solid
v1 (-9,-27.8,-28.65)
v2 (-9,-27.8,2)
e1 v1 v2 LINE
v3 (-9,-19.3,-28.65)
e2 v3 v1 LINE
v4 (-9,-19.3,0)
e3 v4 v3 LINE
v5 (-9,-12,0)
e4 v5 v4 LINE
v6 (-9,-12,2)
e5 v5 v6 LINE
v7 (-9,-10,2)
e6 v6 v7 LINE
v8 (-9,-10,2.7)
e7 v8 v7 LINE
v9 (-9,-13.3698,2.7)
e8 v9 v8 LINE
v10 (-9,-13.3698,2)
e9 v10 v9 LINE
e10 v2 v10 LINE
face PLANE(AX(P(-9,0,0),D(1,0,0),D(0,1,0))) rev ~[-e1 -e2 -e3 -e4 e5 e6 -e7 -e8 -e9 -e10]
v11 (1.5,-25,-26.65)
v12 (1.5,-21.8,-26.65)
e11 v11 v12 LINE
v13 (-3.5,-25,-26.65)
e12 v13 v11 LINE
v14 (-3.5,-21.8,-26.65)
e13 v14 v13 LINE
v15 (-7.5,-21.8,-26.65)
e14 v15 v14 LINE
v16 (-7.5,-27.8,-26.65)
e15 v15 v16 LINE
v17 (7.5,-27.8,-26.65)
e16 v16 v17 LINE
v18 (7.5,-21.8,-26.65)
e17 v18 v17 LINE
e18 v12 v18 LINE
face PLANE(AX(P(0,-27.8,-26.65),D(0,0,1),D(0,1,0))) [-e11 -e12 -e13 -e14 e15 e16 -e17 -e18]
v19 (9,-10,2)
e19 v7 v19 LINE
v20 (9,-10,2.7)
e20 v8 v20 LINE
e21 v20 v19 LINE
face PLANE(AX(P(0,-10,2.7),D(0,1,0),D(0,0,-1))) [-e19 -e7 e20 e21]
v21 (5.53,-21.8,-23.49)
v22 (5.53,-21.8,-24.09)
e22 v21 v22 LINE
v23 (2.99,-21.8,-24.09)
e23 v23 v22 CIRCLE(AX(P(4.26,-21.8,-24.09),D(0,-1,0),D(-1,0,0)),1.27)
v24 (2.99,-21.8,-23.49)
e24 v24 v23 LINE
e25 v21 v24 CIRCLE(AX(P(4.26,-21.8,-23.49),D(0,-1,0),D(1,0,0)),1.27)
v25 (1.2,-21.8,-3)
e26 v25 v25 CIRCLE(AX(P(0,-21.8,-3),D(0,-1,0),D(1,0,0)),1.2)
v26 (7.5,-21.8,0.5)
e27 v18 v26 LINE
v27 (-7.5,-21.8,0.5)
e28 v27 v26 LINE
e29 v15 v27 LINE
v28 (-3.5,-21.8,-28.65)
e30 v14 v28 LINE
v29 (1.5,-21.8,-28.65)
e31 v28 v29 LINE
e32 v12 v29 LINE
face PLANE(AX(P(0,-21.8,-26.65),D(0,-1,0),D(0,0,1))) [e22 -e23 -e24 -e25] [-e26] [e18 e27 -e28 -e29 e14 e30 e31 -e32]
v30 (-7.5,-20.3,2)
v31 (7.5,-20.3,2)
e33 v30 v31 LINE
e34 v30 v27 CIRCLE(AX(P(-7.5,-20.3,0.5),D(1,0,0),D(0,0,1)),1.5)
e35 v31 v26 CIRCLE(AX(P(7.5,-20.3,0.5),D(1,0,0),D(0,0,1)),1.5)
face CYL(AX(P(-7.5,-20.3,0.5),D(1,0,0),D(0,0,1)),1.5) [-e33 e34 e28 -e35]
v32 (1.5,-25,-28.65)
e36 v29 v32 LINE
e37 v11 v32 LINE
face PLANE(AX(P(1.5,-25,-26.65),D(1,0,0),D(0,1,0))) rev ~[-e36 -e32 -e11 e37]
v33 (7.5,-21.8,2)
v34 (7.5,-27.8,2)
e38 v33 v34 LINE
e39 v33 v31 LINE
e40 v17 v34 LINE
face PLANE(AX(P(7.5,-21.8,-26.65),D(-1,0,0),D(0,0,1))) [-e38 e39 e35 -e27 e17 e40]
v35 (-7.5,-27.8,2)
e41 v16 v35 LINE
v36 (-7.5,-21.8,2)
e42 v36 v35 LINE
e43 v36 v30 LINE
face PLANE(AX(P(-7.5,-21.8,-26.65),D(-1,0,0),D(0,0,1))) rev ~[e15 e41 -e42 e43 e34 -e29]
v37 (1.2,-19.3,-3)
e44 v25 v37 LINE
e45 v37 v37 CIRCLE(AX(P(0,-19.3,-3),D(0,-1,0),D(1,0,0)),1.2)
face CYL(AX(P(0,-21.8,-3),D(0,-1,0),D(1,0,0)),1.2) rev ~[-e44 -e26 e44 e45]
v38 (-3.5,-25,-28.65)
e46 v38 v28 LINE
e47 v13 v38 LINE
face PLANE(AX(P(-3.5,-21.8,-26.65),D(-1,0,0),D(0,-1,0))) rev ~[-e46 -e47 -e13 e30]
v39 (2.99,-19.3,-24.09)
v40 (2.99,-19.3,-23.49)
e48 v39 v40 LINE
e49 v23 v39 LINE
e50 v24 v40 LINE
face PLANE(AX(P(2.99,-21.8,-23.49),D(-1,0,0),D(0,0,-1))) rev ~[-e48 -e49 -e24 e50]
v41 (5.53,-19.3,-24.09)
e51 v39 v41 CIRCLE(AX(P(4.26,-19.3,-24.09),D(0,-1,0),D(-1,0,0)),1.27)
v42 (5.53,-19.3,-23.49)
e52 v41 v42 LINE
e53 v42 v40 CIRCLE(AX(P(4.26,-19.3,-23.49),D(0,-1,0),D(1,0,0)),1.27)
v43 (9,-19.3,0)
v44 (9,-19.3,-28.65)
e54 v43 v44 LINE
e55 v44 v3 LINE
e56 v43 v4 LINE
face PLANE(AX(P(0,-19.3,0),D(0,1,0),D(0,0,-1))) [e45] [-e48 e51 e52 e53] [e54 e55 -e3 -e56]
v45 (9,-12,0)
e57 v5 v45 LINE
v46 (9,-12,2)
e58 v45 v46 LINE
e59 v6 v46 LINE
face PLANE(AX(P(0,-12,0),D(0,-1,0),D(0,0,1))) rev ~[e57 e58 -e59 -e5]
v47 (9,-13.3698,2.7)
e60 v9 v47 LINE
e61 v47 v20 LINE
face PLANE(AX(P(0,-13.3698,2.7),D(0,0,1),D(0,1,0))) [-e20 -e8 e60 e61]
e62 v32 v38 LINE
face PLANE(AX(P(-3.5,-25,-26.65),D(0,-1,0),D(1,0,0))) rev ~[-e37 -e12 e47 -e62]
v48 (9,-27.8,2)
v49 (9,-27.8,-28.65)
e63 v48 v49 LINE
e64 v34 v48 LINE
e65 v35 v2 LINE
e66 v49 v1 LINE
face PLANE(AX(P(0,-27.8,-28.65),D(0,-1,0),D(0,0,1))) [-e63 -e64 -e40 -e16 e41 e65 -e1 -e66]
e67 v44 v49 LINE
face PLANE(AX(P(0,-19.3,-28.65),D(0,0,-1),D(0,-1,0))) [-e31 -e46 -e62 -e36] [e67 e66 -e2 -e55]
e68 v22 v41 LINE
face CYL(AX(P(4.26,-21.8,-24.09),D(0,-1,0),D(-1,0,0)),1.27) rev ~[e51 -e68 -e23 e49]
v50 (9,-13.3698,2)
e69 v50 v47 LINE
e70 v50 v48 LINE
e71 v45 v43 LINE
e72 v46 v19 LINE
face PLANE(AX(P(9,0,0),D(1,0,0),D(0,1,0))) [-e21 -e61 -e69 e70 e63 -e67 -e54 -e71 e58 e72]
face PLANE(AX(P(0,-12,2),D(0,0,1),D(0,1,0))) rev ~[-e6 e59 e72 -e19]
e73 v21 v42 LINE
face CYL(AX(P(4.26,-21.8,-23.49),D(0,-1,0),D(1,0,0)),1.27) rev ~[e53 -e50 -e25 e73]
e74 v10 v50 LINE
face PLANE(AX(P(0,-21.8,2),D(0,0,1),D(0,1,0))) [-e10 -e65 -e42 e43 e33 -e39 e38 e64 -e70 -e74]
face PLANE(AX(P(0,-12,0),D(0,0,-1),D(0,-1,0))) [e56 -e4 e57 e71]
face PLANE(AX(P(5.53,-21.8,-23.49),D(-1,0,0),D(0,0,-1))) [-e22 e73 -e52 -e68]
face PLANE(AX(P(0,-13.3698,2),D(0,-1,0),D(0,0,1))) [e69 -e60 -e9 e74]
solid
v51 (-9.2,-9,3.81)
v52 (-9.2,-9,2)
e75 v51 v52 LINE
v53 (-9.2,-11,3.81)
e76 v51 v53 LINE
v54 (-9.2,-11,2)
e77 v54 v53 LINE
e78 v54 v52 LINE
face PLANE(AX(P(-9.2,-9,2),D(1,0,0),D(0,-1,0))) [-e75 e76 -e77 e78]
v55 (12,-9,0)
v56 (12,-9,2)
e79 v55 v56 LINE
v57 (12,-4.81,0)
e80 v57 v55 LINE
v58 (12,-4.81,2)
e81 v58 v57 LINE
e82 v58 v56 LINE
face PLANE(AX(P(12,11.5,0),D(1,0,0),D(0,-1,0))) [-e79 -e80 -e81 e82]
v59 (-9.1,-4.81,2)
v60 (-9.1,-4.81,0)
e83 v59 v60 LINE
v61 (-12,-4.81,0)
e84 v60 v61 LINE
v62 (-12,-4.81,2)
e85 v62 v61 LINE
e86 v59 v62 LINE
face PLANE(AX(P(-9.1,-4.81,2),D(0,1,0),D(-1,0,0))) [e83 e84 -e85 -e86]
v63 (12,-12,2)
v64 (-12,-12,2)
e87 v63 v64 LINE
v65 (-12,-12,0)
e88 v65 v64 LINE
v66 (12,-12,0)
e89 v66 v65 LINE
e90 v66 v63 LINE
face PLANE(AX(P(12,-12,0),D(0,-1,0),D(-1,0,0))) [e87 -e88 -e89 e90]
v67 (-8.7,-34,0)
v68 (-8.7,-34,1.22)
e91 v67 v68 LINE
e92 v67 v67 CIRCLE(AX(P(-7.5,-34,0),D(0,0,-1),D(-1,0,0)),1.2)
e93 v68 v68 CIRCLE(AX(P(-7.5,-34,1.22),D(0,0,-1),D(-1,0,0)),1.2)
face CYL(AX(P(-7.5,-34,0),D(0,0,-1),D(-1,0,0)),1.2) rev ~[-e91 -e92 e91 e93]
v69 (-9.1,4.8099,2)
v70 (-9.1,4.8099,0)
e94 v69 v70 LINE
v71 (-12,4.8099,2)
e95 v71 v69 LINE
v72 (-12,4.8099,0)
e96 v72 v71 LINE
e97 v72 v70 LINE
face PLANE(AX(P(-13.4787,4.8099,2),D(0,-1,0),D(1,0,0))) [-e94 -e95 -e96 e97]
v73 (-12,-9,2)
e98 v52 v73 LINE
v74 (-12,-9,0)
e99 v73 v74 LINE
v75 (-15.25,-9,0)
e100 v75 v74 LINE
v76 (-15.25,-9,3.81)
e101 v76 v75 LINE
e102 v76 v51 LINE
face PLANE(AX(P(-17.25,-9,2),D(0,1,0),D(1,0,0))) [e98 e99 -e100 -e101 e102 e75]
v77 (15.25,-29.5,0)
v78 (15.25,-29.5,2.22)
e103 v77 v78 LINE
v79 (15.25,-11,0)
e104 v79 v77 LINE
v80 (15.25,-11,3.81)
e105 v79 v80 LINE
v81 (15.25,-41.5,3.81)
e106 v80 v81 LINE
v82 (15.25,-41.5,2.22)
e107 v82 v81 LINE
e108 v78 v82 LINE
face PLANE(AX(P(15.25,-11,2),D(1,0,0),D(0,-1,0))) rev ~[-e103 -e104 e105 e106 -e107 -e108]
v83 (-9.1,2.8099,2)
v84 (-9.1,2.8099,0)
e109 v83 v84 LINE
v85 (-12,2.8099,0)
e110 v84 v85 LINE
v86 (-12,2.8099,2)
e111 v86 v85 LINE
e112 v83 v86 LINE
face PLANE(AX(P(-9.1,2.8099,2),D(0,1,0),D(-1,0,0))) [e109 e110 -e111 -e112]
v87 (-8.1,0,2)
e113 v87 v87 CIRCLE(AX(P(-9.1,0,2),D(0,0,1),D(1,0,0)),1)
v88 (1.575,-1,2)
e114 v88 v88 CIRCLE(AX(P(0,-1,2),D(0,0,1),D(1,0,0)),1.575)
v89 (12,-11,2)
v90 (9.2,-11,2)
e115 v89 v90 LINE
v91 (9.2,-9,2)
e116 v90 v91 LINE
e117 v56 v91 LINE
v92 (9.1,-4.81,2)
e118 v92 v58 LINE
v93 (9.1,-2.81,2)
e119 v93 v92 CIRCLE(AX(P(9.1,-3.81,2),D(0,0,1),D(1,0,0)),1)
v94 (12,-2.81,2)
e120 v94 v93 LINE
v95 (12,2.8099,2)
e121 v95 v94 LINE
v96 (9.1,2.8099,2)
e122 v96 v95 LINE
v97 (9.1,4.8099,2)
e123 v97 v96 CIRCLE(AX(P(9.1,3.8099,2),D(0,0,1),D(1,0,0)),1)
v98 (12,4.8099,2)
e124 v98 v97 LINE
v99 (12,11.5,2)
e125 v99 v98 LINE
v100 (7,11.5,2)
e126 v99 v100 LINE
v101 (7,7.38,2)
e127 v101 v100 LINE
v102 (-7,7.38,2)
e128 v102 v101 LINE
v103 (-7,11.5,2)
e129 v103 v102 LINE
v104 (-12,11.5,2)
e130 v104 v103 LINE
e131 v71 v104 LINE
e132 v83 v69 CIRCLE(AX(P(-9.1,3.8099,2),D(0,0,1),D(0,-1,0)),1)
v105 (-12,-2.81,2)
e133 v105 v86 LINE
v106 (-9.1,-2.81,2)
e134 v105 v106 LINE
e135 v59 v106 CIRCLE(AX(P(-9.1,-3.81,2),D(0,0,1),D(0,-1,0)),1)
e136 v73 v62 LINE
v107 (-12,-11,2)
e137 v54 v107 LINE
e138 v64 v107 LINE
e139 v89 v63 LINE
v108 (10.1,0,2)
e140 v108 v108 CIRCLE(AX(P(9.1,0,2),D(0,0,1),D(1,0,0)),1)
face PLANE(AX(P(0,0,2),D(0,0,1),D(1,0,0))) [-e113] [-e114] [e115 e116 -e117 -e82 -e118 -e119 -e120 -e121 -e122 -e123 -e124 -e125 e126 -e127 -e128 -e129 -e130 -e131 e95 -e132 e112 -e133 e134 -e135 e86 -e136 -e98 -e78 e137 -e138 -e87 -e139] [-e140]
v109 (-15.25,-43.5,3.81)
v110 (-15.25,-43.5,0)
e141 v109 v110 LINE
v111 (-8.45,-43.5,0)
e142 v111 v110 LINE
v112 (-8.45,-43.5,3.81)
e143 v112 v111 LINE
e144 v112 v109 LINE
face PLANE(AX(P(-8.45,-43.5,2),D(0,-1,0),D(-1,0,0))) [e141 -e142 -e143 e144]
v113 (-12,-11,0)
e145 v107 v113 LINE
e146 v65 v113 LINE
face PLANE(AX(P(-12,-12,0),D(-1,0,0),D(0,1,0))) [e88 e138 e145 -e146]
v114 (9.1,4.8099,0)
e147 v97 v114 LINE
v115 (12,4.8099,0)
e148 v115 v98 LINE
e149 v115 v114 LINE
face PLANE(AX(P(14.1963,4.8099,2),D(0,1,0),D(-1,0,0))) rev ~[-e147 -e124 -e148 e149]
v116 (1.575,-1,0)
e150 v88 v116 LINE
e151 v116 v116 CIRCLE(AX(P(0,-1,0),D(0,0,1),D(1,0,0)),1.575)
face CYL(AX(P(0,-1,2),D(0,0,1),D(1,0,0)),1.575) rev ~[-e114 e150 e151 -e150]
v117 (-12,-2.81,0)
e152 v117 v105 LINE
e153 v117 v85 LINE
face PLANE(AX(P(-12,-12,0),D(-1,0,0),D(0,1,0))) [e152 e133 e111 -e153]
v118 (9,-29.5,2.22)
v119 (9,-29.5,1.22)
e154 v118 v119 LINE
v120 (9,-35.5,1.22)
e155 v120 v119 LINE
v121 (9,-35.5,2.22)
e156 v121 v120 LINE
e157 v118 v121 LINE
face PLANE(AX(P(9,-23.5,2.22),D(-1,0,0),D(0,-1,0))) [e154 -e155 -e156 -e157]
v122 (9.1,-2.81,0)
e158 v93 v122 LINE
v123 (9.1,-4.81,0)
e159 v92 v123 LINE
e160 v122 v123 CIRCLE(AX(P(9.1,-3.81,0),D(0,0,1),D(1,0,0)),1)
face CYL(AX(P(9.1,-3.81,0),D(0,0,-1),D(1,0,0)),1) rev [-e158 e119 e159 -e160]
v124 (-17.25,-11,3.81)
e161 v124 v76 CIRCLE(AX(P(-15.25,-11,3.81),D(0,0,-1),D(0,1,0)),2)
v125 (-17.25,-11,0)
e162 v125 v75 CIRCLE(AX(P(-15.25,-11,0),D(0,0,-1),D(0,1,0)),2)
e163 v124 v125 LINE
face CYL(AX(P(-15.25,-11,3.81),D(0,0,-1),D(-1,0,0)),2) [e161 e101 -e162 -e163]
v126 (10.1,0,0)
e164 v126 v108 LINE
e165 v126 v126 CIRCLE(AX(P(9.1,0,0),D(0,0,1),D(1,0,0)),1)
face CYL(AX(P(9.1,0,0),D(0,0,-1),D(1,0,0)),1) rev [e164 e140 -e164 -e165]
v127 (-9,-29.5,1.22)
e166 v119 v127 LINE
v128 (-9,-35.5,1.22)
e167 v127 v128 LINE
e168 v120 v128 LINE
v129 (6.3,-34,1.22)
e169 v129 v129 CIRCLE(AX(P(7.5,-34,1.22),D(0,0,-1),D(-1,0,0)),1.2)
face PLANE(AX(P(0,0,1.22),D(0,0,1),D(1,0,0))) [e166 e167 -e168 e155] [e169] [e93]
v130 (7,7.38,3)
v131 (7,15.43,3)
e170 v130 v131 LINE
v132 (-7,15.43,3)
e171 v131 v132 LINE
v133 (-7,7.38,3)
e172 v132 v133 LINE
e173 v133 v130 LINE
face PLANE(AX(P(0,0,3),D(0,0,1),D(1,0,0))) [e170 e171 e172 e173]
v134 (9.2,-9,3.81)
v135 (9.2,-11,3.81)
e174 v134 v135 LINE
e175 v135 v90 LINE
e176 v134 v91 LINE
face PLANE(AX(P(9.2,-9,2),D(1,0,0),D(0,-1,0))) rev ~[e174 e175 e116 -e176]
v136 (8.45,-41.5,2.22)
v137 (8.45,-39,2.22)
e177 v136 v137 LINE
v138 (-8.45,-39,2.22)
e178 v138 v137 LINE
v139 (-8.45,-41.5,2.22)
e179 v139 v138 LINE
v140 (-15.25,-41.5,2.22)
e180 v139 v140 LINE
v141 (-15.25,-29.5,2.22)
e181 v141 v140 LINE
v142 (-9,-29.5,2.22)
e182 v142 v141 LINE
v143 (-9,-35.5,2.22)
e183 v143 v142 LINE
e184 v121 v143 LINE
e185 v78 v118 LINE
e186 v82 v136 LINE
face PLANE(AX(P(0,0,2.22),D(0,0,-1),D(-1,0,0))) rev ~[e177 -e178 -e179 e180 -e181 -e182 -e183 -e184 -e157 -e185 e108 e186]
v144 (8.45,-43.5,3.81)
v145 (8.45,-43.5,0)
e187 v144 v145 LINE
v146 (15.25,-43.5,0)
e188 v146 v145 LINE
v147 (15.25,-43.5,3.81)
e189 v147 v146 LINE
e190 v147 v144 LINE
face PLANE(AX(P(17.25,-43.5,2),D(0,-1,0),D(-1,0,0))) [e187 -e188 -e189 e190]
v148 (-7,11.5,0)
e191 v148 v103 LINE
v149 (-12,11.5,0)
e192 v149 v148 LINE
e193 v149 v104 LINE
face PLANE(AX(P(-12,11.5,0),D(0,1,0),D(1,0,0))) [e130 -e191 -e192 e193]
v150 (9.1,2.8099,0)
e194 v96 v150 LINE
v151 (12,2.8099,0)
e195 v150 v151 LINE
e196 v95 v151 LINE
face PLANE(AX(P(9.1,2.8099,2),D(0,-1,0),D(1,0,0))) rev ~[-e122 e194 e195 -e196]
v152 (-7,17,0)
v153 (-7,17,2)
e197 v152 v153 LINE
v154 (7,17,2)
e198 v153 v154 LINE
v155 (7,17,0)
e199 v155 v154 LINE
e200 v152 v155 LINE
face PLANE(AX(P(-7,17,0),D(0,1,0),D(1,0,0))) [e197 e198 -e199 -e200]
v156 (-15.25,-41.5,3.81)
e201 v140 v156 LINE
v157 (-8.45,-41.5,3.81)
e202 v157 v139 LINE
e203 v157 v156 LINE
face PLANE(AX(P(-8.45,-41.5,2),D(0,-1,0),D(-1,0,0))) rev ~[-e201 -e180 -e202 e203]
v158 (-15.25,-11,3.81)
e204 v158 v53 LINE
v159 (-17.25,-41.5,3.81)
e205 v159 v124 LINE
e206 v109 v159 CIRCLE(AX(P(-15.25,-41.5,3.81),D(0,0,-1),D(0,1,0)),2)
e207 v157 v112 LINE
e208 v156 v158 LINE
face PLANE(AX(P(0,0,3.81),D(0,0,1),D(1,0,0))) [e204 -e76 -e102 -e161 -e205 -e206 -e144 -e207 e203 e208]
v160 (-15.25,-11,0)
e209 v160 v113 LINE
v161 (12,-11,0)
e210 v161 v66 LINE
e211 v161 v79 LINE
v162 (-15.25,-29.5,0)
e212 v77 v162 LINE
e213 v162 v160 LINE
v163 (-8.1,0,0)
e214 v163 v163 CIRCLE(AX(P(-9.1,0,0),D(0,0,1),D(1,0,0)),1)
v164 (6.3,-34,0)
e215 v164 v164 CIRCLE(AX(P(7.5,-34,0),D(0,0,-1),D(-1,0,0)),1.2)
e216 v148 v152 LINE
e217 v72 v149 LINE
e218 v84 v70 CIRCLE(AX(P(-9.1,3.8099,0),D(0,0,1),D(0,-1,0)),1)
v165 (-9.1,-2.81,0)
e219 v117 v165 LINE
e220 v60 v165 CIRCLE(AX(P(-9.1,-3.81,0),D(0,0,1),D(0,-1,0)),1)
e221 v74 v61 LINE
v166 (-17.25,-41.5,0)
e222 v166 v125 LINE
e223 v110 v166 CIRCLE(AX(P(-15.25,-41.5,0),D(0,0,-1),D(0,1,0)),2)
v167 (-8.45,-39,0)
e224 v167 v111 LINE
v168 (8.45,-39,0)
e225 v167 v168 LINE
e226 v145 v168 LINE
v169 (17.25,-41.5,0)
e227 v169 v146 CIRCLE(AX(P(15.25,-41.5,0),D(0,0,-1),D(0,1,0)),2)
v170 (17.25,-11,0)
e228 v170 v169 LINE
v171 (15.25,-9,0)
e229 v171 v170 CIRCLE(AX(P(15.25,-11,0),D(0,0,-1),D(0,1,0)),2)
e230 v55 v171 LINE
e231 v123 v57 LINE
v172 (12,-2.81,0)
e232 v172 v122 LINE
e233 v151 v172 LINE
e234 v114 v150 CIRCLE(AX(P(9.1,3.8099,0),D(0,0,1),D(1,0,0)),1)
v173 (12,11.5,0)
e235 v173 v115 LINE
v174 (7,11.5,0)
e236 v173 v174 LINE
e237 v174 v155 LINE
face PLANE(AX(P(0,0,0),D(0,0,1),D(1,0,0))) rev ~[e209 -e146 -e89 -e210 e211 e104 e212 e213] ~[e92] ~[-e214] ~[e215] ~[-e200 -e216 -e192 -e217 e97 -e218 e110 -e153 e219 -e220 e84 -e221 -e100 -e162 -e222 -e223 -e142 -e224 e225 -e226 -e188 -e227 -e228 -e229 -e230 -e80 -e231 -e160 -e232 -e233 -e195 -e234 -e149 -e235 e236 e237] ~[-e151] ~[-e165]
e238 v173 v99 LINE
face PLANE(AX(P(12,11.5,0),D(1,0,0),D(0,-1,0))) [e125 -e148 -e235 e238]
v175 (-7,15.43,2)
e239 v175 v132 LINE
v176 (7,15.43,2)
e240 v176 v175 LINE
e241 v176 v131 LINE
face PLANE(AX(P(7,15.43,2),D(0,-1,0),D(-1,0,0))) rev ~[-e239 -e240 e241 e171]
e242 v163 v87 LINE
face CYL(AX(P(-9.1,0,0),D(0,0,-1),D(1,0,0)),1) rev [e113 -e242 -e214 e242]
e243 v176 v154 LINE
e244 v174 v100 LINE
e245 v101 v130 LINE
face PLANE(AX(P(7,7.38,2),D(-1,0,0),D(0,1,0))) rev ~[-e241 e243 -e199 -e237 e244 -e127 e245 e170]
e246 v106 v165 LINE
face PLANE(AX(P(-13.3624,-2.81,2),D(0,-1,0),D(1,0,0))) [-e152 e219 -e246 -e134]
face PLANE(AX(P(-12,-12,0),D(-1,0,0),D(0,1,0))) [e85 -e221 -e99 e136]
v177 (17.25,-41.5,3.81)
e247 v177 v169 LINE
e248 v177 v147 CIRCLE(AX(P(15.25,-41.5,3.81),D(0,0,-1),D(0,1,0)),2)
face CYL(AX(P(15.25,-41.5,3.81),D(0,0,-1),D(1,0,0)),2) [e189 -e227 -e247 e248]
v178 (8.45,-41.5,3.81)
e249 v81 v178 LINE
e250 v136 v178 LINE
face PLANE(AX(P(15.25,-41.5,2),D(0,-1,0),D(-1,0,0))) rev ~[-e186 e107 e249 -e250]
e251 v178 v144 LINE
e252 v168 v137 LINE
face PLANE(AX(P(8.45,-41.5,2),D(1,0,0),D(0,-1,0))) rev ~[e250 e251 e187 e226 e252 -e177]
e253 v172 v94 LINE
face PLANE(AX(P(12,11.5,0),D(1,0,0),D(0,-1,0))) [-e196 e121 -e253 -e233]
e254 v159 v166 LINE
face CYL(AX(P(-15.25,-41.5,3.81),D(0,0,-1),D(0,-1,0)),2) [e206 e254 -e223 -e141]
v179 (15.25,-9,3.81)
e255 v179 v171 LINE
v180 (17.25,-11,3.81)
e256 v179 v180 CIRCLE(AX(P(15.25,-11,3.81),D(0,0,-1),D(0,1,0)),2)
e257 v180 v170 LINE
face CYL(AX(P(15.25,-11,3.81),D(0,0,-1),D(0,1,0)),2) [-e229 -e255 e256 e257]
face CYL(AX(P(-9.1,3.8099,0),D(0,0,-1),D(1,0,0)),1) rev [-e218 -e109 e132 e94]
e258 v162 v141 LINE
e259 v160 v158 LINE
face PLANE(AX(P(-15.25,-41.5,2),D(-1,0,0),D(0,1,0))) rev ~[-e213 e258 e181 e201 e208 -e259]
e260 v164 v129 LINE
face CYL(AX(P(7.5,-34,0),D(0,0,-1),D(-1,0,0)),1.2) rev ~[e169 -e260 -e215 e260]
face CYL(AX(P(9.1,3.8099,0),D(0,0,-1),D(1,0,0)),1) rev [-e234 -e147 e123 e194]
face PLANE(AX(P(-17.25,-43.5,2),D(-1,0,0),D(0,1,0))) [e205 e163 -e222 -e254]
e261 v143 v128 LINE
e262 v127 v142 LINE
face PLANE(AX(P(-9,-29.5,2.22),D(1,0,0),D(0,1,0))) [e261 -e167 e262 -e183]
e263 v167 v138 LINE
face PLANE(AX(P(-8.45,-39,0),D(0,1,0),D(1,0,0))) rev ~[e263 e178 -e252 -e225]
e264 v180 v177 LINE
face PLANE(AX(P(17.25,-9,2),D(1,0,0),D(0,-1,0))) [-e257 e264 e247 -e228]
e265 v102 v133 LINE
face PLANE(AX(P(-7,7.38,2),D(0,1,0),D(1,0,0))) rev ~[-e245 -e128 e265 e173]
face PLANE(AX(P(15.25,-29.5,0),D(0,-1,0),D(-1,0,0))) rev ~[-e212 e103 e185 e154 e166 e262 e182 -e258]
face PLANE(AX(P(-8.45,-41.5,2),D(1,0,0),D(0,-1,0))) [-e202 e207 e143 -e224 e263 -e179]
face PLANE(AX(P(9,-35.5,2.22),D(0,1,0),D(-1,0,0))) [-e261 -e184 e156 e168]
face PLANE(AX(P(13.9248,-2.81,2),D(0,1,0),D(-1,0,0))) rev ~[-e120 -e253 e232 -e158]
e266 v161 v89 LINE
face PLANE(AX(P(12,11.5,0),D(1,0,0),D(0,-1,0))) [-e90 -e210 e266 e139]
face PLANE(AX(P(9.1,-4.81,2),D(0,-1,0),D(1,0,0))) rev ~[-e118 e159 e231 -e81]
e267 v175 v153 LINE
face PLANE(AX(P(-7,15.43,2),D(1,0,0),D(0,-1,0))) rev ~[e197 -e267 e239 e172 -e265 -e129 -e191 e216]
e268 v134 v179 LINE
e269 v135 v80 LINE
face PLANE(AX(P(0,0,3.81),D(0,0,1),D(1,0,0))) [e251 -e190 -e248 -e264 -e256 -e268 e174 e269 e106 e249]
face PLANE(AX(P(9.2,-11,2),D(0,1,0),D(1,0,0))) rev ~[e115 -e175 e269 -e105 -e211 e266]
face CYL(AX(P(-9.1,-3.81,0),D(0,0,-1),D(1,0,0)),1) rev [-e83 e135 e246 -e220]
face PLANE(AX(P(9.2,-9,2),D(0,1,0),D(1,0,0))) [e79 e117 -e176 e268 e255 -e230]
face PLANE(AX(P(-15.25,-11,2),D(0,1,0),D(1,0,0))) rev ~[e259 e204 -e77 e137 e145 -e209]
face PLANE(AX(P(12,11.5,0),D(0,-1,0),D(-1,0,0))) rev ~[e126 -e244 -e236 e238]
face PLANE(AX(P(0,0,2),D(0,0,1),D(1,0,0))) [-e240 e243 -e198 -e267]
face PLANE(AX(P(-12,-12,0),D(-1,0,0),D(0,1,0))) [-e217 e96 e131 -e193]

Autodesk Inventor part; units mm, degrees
ref_plane "YZ Plane" through (0, 0, 0) normal (1, 0, 0) x (0, 1, 0)
ref_plane "XZ Plane" through (0, 0, 0) normal (0, 1, 0) x (-1, 0, 0)
ref_plane "XY Plane" through (0, 0, 0) normal (0, 0, 1) x (1, 0, 0)
sketch "Sketch1" plane through (0, 0, 0) normal (0, 0, 1) x (1, 0, 0)
  circle A0 centre (0, 0) radius 2.3
  line L0 (-9.1, -9.1) -> (9.1, 9.1) construction
  line L1 (9.1, -9.1) -> (-9.1, 9.1) construction
  circle A1 centre (9.1, 0) radius 1
  circle A2 centre (-9.1, 0) radius 1
  circle A3 centre (9.1, 3.8099) radius 1
  circle A4 centre (9.1, -3.81) radius 1
  circle A5 centre (-9.1, 3.8099) radius 1
  circle A6 centre (-9.1, -3.81) radius 1
  line L2 (-7, 17) -> (7, 17)
  line L3 (12, 11.5) -> (12, -12)
  line L4 (12, -12) -> (-12, -12)
  line L5 (-12, -12) -> (-12, 11.5)
  line L6 (-4.81, 9.1) -> (-9.1, 9.1)
  line L7 (9.1, 9.1) -> (4.81, 9.1)
  line L8 (9.1, 4.8099) -> (9.1, 9.1)
  line L9 (9.1, 1) -> (9.1, 2.8099)
  line L10 (9.1, -9.1) -> (9.1, -4.81)
  line L11 (9.1, -2.81) -> (9.1, -1)
  line L12 (4.81, -9.1) -> (9.1, -9.1)
  line L13 (-9.1, -9.1) -> (-4.81, -9.1)
  line L14 (-9.1, -4.81) -> (-9.1, -9.1)
  line L15 (-9.1, -1) -> (-9.1, -2.81)
  line L16 (-9.1, 9.1) -> (-9.1, 4.8099)
  line L17 (-9.1, 2.8099) -> (-9.1, 1)
  line L18 (4.81, 9.1) -> (-4.81, 9.1)
  line L19 (-4.81, -9.1) -> (4.81, -9.1)
  line L20 (-12, 11.5) -> (-7, 11.5)
  line L21 (-7, 11.5) -> (-7, 17)
  line L22 (12, 11.5) -> (7, 11.5)
  line L23 (7, 11.5) -> (7, 17)
  dimension "d0" = 18.2
  dimension "d1" = 18.2
  dimension "d6" = 2
  dimension "d7" = 2
  dimension "d10" = 4.6
  dimension "d11" = 2
  dimension "d12" = 2
  dimension "d15" = 2
  dimension "d16" = 2
  dimension "d17" = 3.8099
  dimension "d18" = 3.81
  dimension "d19" = 24
  dimension "d127" = 2.9
  dimension "d128" = 2.9
  dimension "d129" = 29
  dimension "d140" = 5
  dimension "d141" = 5
  dimension "d142" = 5.5
extrude "Extrusion1" add sketch "Sketch1" along normal blind 2 contours A0 | A1 L11 A4 L10 L12 L19 L13 L14 A6 L15 A2 L17 A5 L16 L6 L18 L7 L8 A3 L9 | L2 L23 L22 L3 L4 L5 L20 L21
sketch "Sketch6" plane through (0, 0, 2) normal (0, 0, 1) x (1, 0, 0)
  circle A0 centre (-9.1, -3.81) radius 1 projected
  line L0 (-9.1, -4.81) -> (-13.3624, -4.81)
  line L1 (-13.3624, -4.81) -> (-13.3624, -2.81)
  line L2 (-13.3624, -2.81) -> (-9.1, -2.81)
  line L3 (-9.1, -2.81) -> (-9.1, -4.81)
  circle A1 centre (-9.1, 3.8099) radius 1 projected
  line L4 (-9.1, 2.8099) -> (-13.4787, 2.8099)
  line L5 (-13.4787, 2.8099) -> (-13.4787, 4.8099)
  line L6 (-13.4787, 4.8099) -> (-9.1, 4.8099)
  line L7 (-9.1, 4.8099) -> (-9.1, 2.8099)
  circle A2 centre (9.1, -3.81) radius 1 projected
  line L8 (9.1, -4.81) -> (13.9248, -4.81)
  line L9 (13.9248, -4.81) -> (13.9248, -2.81)
  line L10 (13.9248, -2.81) -> (9.1, -2.81)
  line L11 (9.1, -2.81) -> (9.1, -4.81)
  line L12 (9.1, 2.8099) -> (14.1963, 2.8099)
  line L13 (14.1963, 2.8099) -> (14.1963, 4.8099)
  line L14 (14.1963, 4.8099) -> (9.1, 4.8099)
  line L15 (9.1, 4.8099) -> (9.1, 2.8099)
  point P0 (0, 0)
extrude "Extrusion5" cut sketch "Sketch6" against normal blind 40 contours L3 A0 | A0 L0 L1 L2 | L7 A1 | A1 L4 L5 L6 | A2 L11 | A2 L10 L9 L8 | L15 L14 L13 L12 picked at (-9.4117, -3.6918) picked at (-9.4117, 3.9281) picked at (9.1742, -3.485)
sketch "Sketch8" plane through (0, 0, 0) normal (1, 0, 0) x (0, 1, 0)
  line L0 (-12, 0) -> (-19.3, 0)
  line L1 (-19.3, 0) -> (-19.3, -28.65)
  line L2 (-19.3, -28.65) -> (-27.8, -28.65)
  line L3 (-27.8, -28.65) -> (-27.8, -26.65)
  line L4 (-27.8, -26.65) -> (-21.8, -26.65)
  line L5 (-21.8, -26.65) -> (-21.8, 2)
  line L6 (-21.8, 2) -> (-12, 2)
  line L7 (-12, 0) -> (-12, 2) projected
  line L8 (-12, 0) -> (-12, 2)
  line L9 (-13.3698, 2) -> (-13.3698, 2.7)
  line L10 (-13.3698, 2.7) -> (-10, 2.7)
  line L11 (-10, 2.7) -> (-10, 2)
  line L12 (-12, 2) -> (-10, 2)
  point P0 (0, 0)
  dimension "d49" = 2.5
  dimension "d50" = 7.3
  dimension "d51" = 28.65
  dimension "d52" = 2
  dimension "d53" = 2
  dimension "d54" = 0.7
  dimension "d57" = 6
extrude "Extrusion7" add sketch "Sketch8" along normal mid plane 18 separate body
sketch "Sketch9" plane through (-9, -21.8, -26.65) normal (0, -1, 0) x (1, 0, 0)
  line L0 (0, 0) -> (1.5, 0)
  line L1 (1.5, 0) -> (1.5, 28.65)
  line L2 (1.5, 28.65) -> (0, 28.65)
  line L3 (0, 28.65) -> (0, 0)
  line L4 (0, 0) -> (18, 0) projected
  line L5 (18, 0) -> (16.5, 0)
  line L6 (16.5, 0) -> (16.5, 28.65)
  line L7 (16.5, 28.65) -> (18, 28.65)
  line L8 (18, 28.65) -> (18, 0)
  line L9 (8, 28.65) -> (10, 28.65) projected
  line L10 (9, 28.65) -> (9, -2)
  line L11 (0, -2) -> (18, -2) projected
  line L12 (0, 28.65) -> (18, 28.65) projected
  point P0 (9, 26.65)
  dimension "d58" = 15
extrude "Extrusion8" add sketch "Sketch9" along normal blind 6 contours L3 L2 L1 L0 | L6 L7 L8 L4 bodies 2
sketch "Sketch10" plane through (-7.5, -29.8, -26.65) normal (0, 0, 1) x (1, 0, 0)
  line L0 (4, 4.8) -> (9, 4.8)
  line L1 (9, 4.8) -> (9, 8)
  line L2 (9, 8) -> (4, 8)
  line L3 (4, 8) -> (4, 4.8)
  line L4 (0, 8) -> (0, 2) projected
  line L5 (0, 8) -> (15, 8) projected
  point P0 (7.5, 29.8)
  point P1 (-2.5, 8)
  point P2 (17.5, 8)
  dimension "d63" = 4
  dimension "d64" = 5
  dimension "d65" = 3.2
extrude "Extrusion9" cut sketch "Sketch10" against normal blind 8 bodies 2
sketch "Sketch11" plane through (-7.5, -21.8, 2) normal (0, -1, 0) x (1, 0, 0)
  line L0 (0, -28.65) -> (0, 0) projected
  line L1 (0, -28.65) -> (15, -28.65) projected
  circle A0 centre (7.5, -5) radius 1.2
  line L2 (16.5, -2) -> (-1.5, -2) projected
  arc A1 (13.03, -25.49) -> (10.49, -25.49) centre (11.76, -25.49) ccw
  arc A2 (10.49, -26.09) -> (13.03, -26.09) centre (11.76, -26.09) ccw
  line L3 (10.49, -25.49) -> (10.49, -26.09)
  line L4 (13.03, -25.49) -> (13.03, -26.09)
  point P0 (7.5, -2)
  dimension "d74" = 2.4
  dimension "d75" = 3
  dimension "d119" = 2.54
  dimension "d120" = 2.54
  dimension "d123" = 11.76
  dimension "d124" = 3.16
  dimension "d125" = 0.6
extrude "Extrusion10" cut sketch "Sketch11" against normal blind 8 bodies 2
fillet "Fillet1" radius 1.5 1 edges at (0, -21.8, 2)
sketch "Sketch12" plane through (0, 0, 2) normal (0, 0, 1) x (1, 0, 0)
  line L0 (15.25, -11) -> (15.25, -41.5)
  line L1 (-15.25, -41.5) -> (-15.25, -11)
  line L2 (-15.25, -11) -> (15.25, -41.5) construction
  line L3 (15.25, -11) -> (-15.25, -41.5) construction
  line L4 (-12, -12) -> (12, -12) projected
  line L5 (17.25, -9) -> (17.25, -43.5)
  line L6 (-17.25, -43.5) -> (-17.25, -9)
  line L7 (-8.45, -41.5) -> (-8.45, -43.5)
  line L8 (8.45, -41.5) -> (8.45, -43.5)
  line L9 (17.25, -43.5) -> (8.45, -43.5)
  line L10 (-8.45, -43.5) -> (-17.25, -43.5)
  line L11 (15.25, -41.5) -> (8.45, -41.5)
  line L12 (-8.45, -41.5) -> (-15.25, -41.5)
  line L13 (-9.2, -9) -> (-9.2, -11)
  line L14 (9.2, -9) -> (9.2, -11)
  line L15 (-9, -13.3698) -> (-9, -10) projected
  line L16 (9, -10) -> (9, -13.3698) projected
  line L17 (-17.25, -9) -> (-9.2, -9)
  line L18 (9.2, -9) -> (17.25, -9)
  line L19 (-15.25, -11) -> (-9.2, -11)
  line L20 (9.2, -11) -> (15.25, -11)
  point P0 (0, 0)
  point P1 (0, -26.25)
  dimension "d76" = 30.5
  dimension "d79" = 2
  dimension "d80" = 6.8
  dimension "d81" = 6.8
  dimension "d88" = 0.2
  dimension "d89" = 0.2
extrude "Extrusion11" add sketch "Sketch12" along normal blind 1.81 and the other way blind 2 bodies 1
sketch "Sketch13" plane through (0, 0, 0) normal (0, 0, -1) x (-1, 0, 0)
  line L0 (-15.25, -41.5) -> (-8.45, -41.5) projected
  line L1 (-15.25, -41.5) -> (-8.45, -41.5)
  line L2 (-8.45, -41.5) -> (-8.45, -39)
  line L3 (-8.45, -39) -> (-15.25, -39)
  line L4 (-15.25, -39) -> (-15.25, -41.5)
  line L5 (8.45, -41.5) -> (15.25, -41.5) projected
  line L6 (15.25, -41.5) -> (8.45, -41.5)
  line L7 (8.45, -41.5) -> (8.45, -39)
  line L8 (8.45, -39) -> (15.25, -39)
  line L9 (15.25, -39) -> (15.25, -41.5)
  line L10 (-15.25, -11) -> (-15.25, -41.5) projected
  line L11 (-15.25, -29.5) -> (15.25, -29.5)
  line L12 (15.25, -29.5) -> (15.25, -39)
  line L13 (15.25, -39) -> (-15.25, -39)
  line L14 (-15.25, -39) -> (-15.25, -29.5)
  point P0 (0, 0)
  dimension "d84" = 2.5
  dimension "d85" = 6.8
  dimension "d92" = 2.5
  dimension "d93" = 12
extrude "Extrusion12" add sketch "Sketch13" against normal blind 2.22 bodies 1
sketch "Sketch15" plane through (0, 0, 2.22) normal (0, 0, 1) x (1, 0, 0)
  line L0 (-9, -23.5) -> (9, -23.5)
  line L1 (9, -23.5) -> (9, -35.5)
  line L2 (9, -35.5) -> (-9, -35.5)
  line L3 (-9, -35.5) -> (-9, -23.5)
  line L4 (15.25, -29.5) -> (-15.25, -29.5) projected
  line L5 (-9, -23.5) -> (9, -35.5) construction
  line L6 (9, -23.5) -> (-9, -35.5) construction
  line L7 (15.25, -41.5) -> (8.45, -41.5) projected
  point P0 (0, 0)
  point P1 (0, -29.5)
  dimension "d94" = 18
  dimension "d95" = 6
extrude "Extrusion13" cut sketch "Sketch15" against normal blind 1 bodies 1
sketch "Sketch17" plane through (0, 0, 0) normal (0, 0, -1) x (-1, 0, 0)
  circle A0 centre (-7.5, -34) radius 1.2
  circle A1 centre (7.5, -34) radius 1.2
  line L0 (-8.45, -39) -> (8.45, -39) projected
  line L1 (15.25, -29.5) -> (-15.25, -29.5) projected
  line L2 (8.45, -39) -> (-8.45, -39) construction
  line L3 (0, -39) -> (0, -29.5) construction
  point P0 (0, 0)
  dimension "d115" = 2.4
  dimension "d151" = 7.5
  dimension "d152" = 7.5
  dimension "d153" = 5
  dimension "d154" = 5
extrude "Extrusion15" cut sketch "Sketch17" against normal blind 12 bodies 1
fillet "Fillet2" radius 2 4 edges at (-17.25, -43.5, 1.905) (17.25, -43.5, 1.905) (17.25, -9, 1.905) (-17.25, -9, 1.905)
sketch "Sketch18" plane through (0, 0, 2) normal (0, 0, 1) x (1, 0, 0)
  circle A0 centre (0, -1) radius 1.575
  line L0 (-9, -10) -> (9, -10) construction
  point P0 (0, 0)
  dimension "d131" = 3.15
  dimension "d175" = 9
extrude "Extrusion16" cut sketch "Sketch18" against normal blind 10 bodies 1
sketch "Sketch26" plane through (0, 0, 2) normal (0, 0, 1) x (1, 0, 0)
  line L0 (-7, 7.38) -> (7, 7.38)
  line L1 (7, 7.38) -> (7, 15.43)
  line L2 (7, 15.43) -> (-7, 15.43)
  line L3 (-7, 15.43) -> (-7, 7.38)
  circle A0 centre (0, -1) radius 1.575 construction
  point P0 (0, 0)
  dimension "d176" = 8.38
  dimension "d177" = 8.05
extrude "Extrusion24" add sketch "Sketch26" along normal blind 1 bodies 1
sketch "Sketch21" plane through (0, 0, 3.81) normal (0, 0, 1) x (1, 0, 0)
  arc A0 (-15.25, -9) -> (-17.25, -11) centre (-15.25, -11) ccw projected
  line L0 (-17.25, -11) -> (-17.25, -41.5) projected
  arc A1 (-17.25, -41.5) -> (-15.25, -43.5) centre (-15.25, -41.5) ccw projected
  line L1 (-15.25, -43.5) -> (-8.45, -43.5) projected
  line L2 (-8.45, -43.5) -> (-8.45, -41.5) projected
  line L3 (-8.45, -41.5) -> (-15.25, -41.5) projected
  line L4 (-15.25, -41.5) -> (-15.25, -11) projected
  line L5 (-15.25, -11) -> (-9.2, -11) projected
  line L6 (-9.2, -11) -> (-9.2, -9) projected
  line L7 (-9.2, -9) -> (-15.25, -9) projected
  arc A2 (17.25, -11) -> (15.25, -9) centre (15.25, -11) ccw projected
  line L8 (15.25, -9) -> (9.2, -9) projected
  line L9 (9.2, -9) -> (9.2, -11) projected
  line L10 (9.2, -11) -> (15.25, -11) projected
  line L11 (15.25, -11) -> (15.25, -41.5) projected
  line L12 (15.25, -41.5) -> (8.45, -41.5) projected
  line L13 (8.45, -41.5) -> (8.45, -43.5) projected
  line L14 (8.45, -43.5) -> (15.25, -43.5) projected
  arc A3 (15.25, -43.5) -> (17.25, -41.5) centre (15.25, -41.5) ccw projected
  line L15 (17.25, -41.5) -> (17.25, -11) projected
  line L16 (-8.45, -43.5) -> (-8.45, -39) projected
  line L17 (-8.45, -43.5) -> (8.45, -43.5)
  line L18 (7.15, -9) -> (-7.15, -9)
  line L19 (-15.25, -41.5) -> (-15.25, -11) projected
  line L20 (-15.25, -41.5) -> (-15.25, -11)
  line L21 (9.2, -11) -> (15.25, -11) projected
  line L22 (-15.25, -11) -> (15.25, -11)
  line L23 (15.25, -11) -> (15.25, -41.5) projected
  line L24 (15.25, -11) -> (15.25, -41.5)
  line L25 (-15.25, -41.5) -> (15.25, -41.5)
  line L26 (15.25, -9) -> (9.2, -9) projected
  line L27 (12, -9) -> (12, 1)
  line L28 (7.15, 1) -> (7.15, -9)
  line L29 (-7.15, 1) -> (-7.15, -9)
  line L30 (7, 5.1664) -> (7, 17) projected
  line L31 (-7, 17) -> (-7, 5.1664) projected
  line L32 (-12, -4.81) -> (-12, -9) projected
  line L33 (-12, -9) -> (-12, 1)
  line L34 (-12, 1) -> (-7.15, 1)
  line L35 (7.15, 1) -> (12, 1)
  point P0 (0, 0)
  dimension "d161" = 0.15
  dimension "d162" = 0.15
  dimension "d163" = 10
sketch "Sketch22" plane through (0, 0, 3.81) normal (0, 0, -1) x (-1, 0, 0)
  arc A0 (17.25, -11) -> (15.25, -9) centre (15.25, -11) ccw projected
  line L0 (12, -9) -> (15.25, -9) projected
  line L1 (-7.15, -9) -> (7.15, -9) projected
  line L2 (-15.25, -9) -> (-12, -9) projected
  arc A1 (-15.25, -9) -> (-17.25, -11) centre (-15.25, -11) ccw projected
  line L3 (-17.25, -41.5) -> (-17.25, -11) projected
  arc A2 (-17.25, -41.5) -> (-15.25, -43.5) centre (-15.25, -41.5) ccw projected
  line L4 (-8.45, -43.5) -> (-15.25, -43.5) projected
  line L5 (-8.45, -41.5) -> (-8.45, -43.5) projected
  line L6 (-15.25, -41.5) -> (-8.45, -41.5) projected
  line L7 (15.25, -11) -> (-15.25, -11) projected
  line L8 (15.25, -41.5) -> (15.25, -11) projected
  line L9 (8.45, -41.5) -> (15.25, -41.5) projected
  line L10 (8.45, -43.5) -> (8.45, -41.5) projected
  line L11 (15.25, -43.5) -> (8.45, -43.5) projected
  arc A3 (15.25, -43.5) -> (17.25, -41.5) centre (15.25, -41.5) ccw projected
  line L12 (17.25, -11) -> (17.25, -41.5) projected
  line L13 (7.15, -9) -> (7.15, 1) projected
  line L14 (-7.15, 1) -> (-7.15, -9) projected
  line L15 (-12, -9) -> (-12, 1) projected
  line L16 (-15.25, -11) -> (-15.25, -41.5) projected
  line L17 (-12, -9) -> (-7.15, -9)
  line L18 (12, -9) -> (7.15, -9)
  line L19 (12, 1) -> (12, -9) projected
  line L20 (7.15, 1) -> (12, 1) projected
  line L21 (-12, 1) -> (-7.15, 1) projected
sketch "Sketch23" plane through (0, 0, 5.81) normal (0, 0, 1) x (1, 0, 0)
  line L0 (-8.45, -43.5) -> (-8.45, -41.5) projected
  line L1 (-8.45, -41.5) -> (-15.25, -41.5) projected
  line L2 (-15.25, -41.5) -> (-15.25, -11) projected
  line L3 (-15.25, -11) -> (15.25, -11) projected
  line L4 (15.25, -11) -> (15.25, -41.5) projected
  line L5 (15.25, -41.5) -> (8.45, -41.5) projected
  line L6 (8.45, -41.5) -> (8.45, -43.5) projected
  line L7 (8.45, -43.5) -> (15.25, -43.5) projected
  arc A0 (15.25, -43.5) -> (17.25, -41.5) centre (15.25, -41.5) ccw projected
  line L8 (17.25, -41.5) -> (17.25, -11) projected
  arc A1 (17.25, -11) -> (15.25, -9) centre (15.25, -11) ccw projected
  line L9 (15.25, -9) -> (12, -9) projected
  line L10 (12, -9) -> (12, 1) projected
  line L11 (12, 1) -> (7.15, 1) projected
  line L12 (7.15, 1) -> (7.15, -9) projected
  line L13 (7.15, -9) -> (-7.15, -9) projected
  line L14 (-7.15, -9) -> (-7.15, 1) projected
  line L15 (-7.15, 1) -> (-12, 1) projected
  line L16 (-12, 1) -> (-12, -9) projected
  line L17 (-12, -9) -> (-15.25, -9) projected
  arc A2 (-15.25, -9) -> (-17.25, -11) centre (-15.25, -11) ccw projected
  line L18 (-17.25, -11) -> (-17.25, -41.5) projected
  arc A3 (-17.25, -41.5) -> (-15.25, -43.5) centre (-15.25, -41.5) ccw projected
  line L19 (-15.25, -43.5) -> (-8.45, -43.5) projected
  line L20 (-8.45, -43.5) -> (8.45, -43.5)
  line L21 (-12, -9) -> (-12, -4.81) projected
  line L22 (-12, -9) -> (12, -9)
  line L23 (15.25, -9) -> (9.2, -9) projected
  line L24 (-8.45, -41.5) -> (8.45, -41.5)
  point P0 (0, 0)
sketch "Sketch24" plane through (0, 0, 10.81) normal (0, 0, 1) x (1, 0, 0)
  line L0 (15.25, -41.5) -> (-15.25, -41.5) projected
  line L1 (-15.25, -41.5) -> (-15.25, -11) projected
  line L2 (-15.25, -11) -> (15.25, -11) projected
  line L3 (15.25, -11) -> (15.25, -41.5) projected
  line L4 (-15.25, -43.5) -> (15.25, -43.5) projected
  arc A0 (15.25, -43.5) -> (17.25, -41.5) centre (15.25, -41.5) ccw projected
  line L5 (17.25, -41.5) -> (17.25, -11) projected
  arc A1 (17.25, -11) -> (15.25, -9) centre (15.25, -11) ccw projected
  line L6 (15.25, -9) -> (-15.25, -9) projected
  arc A2 (-15.25, -9) -> (-17.25, -11) centre (-15.25, -11) ccw projected
  line L7 (-17.25, -11) -> (-17.25, -41.5) projected
  arc A3 (-17.25, -41.5) -> (-15.25, -43.5) centre (-15.25, -41.5) ccw projected
  point P0 (0, 0)
sketch "Sketch25" plane through (15.25, -11, 2) normal (0, 0, -1) x (-1, 0, 0)
  circle A0 centre (5.25, 7.19) radius 1
  line L0 (6.15, 8.19) -> (3.25, 8.19) projected
  circle A1 centre (25.25, 7.19) radius 1
  line L1 (27.25, 8.19) -> (24.35, 8.19) projected
  line L2 (24.35, 6.19) -> (27.25, 6.19) projected
  line L3 (25.25, 6.19) -> (27.25, 6.19)
  line L4 (27.25, 6.19) -> (27.25, 8.19)
  line L5 (5.25, 8.19) -> (3.25, 8.19)
  line L6 (3.25, 6.19) -> (5.25, 6.19)
  line L7 (3.25, 12) -> (3.25, 2) projected
  line L8 (3.25, 6.19) -> (3.25, 8.19)
  line L9 (25.25, 8.19) -> (27.25, 8.19)
  point P0 (15.25, 11)
  dimension "d168" = 2
  dimension "d169" = 2
  dimension "d170" = 2
  dimension "d171" = 2
properties part number "Intan_holder_v4_alt"
